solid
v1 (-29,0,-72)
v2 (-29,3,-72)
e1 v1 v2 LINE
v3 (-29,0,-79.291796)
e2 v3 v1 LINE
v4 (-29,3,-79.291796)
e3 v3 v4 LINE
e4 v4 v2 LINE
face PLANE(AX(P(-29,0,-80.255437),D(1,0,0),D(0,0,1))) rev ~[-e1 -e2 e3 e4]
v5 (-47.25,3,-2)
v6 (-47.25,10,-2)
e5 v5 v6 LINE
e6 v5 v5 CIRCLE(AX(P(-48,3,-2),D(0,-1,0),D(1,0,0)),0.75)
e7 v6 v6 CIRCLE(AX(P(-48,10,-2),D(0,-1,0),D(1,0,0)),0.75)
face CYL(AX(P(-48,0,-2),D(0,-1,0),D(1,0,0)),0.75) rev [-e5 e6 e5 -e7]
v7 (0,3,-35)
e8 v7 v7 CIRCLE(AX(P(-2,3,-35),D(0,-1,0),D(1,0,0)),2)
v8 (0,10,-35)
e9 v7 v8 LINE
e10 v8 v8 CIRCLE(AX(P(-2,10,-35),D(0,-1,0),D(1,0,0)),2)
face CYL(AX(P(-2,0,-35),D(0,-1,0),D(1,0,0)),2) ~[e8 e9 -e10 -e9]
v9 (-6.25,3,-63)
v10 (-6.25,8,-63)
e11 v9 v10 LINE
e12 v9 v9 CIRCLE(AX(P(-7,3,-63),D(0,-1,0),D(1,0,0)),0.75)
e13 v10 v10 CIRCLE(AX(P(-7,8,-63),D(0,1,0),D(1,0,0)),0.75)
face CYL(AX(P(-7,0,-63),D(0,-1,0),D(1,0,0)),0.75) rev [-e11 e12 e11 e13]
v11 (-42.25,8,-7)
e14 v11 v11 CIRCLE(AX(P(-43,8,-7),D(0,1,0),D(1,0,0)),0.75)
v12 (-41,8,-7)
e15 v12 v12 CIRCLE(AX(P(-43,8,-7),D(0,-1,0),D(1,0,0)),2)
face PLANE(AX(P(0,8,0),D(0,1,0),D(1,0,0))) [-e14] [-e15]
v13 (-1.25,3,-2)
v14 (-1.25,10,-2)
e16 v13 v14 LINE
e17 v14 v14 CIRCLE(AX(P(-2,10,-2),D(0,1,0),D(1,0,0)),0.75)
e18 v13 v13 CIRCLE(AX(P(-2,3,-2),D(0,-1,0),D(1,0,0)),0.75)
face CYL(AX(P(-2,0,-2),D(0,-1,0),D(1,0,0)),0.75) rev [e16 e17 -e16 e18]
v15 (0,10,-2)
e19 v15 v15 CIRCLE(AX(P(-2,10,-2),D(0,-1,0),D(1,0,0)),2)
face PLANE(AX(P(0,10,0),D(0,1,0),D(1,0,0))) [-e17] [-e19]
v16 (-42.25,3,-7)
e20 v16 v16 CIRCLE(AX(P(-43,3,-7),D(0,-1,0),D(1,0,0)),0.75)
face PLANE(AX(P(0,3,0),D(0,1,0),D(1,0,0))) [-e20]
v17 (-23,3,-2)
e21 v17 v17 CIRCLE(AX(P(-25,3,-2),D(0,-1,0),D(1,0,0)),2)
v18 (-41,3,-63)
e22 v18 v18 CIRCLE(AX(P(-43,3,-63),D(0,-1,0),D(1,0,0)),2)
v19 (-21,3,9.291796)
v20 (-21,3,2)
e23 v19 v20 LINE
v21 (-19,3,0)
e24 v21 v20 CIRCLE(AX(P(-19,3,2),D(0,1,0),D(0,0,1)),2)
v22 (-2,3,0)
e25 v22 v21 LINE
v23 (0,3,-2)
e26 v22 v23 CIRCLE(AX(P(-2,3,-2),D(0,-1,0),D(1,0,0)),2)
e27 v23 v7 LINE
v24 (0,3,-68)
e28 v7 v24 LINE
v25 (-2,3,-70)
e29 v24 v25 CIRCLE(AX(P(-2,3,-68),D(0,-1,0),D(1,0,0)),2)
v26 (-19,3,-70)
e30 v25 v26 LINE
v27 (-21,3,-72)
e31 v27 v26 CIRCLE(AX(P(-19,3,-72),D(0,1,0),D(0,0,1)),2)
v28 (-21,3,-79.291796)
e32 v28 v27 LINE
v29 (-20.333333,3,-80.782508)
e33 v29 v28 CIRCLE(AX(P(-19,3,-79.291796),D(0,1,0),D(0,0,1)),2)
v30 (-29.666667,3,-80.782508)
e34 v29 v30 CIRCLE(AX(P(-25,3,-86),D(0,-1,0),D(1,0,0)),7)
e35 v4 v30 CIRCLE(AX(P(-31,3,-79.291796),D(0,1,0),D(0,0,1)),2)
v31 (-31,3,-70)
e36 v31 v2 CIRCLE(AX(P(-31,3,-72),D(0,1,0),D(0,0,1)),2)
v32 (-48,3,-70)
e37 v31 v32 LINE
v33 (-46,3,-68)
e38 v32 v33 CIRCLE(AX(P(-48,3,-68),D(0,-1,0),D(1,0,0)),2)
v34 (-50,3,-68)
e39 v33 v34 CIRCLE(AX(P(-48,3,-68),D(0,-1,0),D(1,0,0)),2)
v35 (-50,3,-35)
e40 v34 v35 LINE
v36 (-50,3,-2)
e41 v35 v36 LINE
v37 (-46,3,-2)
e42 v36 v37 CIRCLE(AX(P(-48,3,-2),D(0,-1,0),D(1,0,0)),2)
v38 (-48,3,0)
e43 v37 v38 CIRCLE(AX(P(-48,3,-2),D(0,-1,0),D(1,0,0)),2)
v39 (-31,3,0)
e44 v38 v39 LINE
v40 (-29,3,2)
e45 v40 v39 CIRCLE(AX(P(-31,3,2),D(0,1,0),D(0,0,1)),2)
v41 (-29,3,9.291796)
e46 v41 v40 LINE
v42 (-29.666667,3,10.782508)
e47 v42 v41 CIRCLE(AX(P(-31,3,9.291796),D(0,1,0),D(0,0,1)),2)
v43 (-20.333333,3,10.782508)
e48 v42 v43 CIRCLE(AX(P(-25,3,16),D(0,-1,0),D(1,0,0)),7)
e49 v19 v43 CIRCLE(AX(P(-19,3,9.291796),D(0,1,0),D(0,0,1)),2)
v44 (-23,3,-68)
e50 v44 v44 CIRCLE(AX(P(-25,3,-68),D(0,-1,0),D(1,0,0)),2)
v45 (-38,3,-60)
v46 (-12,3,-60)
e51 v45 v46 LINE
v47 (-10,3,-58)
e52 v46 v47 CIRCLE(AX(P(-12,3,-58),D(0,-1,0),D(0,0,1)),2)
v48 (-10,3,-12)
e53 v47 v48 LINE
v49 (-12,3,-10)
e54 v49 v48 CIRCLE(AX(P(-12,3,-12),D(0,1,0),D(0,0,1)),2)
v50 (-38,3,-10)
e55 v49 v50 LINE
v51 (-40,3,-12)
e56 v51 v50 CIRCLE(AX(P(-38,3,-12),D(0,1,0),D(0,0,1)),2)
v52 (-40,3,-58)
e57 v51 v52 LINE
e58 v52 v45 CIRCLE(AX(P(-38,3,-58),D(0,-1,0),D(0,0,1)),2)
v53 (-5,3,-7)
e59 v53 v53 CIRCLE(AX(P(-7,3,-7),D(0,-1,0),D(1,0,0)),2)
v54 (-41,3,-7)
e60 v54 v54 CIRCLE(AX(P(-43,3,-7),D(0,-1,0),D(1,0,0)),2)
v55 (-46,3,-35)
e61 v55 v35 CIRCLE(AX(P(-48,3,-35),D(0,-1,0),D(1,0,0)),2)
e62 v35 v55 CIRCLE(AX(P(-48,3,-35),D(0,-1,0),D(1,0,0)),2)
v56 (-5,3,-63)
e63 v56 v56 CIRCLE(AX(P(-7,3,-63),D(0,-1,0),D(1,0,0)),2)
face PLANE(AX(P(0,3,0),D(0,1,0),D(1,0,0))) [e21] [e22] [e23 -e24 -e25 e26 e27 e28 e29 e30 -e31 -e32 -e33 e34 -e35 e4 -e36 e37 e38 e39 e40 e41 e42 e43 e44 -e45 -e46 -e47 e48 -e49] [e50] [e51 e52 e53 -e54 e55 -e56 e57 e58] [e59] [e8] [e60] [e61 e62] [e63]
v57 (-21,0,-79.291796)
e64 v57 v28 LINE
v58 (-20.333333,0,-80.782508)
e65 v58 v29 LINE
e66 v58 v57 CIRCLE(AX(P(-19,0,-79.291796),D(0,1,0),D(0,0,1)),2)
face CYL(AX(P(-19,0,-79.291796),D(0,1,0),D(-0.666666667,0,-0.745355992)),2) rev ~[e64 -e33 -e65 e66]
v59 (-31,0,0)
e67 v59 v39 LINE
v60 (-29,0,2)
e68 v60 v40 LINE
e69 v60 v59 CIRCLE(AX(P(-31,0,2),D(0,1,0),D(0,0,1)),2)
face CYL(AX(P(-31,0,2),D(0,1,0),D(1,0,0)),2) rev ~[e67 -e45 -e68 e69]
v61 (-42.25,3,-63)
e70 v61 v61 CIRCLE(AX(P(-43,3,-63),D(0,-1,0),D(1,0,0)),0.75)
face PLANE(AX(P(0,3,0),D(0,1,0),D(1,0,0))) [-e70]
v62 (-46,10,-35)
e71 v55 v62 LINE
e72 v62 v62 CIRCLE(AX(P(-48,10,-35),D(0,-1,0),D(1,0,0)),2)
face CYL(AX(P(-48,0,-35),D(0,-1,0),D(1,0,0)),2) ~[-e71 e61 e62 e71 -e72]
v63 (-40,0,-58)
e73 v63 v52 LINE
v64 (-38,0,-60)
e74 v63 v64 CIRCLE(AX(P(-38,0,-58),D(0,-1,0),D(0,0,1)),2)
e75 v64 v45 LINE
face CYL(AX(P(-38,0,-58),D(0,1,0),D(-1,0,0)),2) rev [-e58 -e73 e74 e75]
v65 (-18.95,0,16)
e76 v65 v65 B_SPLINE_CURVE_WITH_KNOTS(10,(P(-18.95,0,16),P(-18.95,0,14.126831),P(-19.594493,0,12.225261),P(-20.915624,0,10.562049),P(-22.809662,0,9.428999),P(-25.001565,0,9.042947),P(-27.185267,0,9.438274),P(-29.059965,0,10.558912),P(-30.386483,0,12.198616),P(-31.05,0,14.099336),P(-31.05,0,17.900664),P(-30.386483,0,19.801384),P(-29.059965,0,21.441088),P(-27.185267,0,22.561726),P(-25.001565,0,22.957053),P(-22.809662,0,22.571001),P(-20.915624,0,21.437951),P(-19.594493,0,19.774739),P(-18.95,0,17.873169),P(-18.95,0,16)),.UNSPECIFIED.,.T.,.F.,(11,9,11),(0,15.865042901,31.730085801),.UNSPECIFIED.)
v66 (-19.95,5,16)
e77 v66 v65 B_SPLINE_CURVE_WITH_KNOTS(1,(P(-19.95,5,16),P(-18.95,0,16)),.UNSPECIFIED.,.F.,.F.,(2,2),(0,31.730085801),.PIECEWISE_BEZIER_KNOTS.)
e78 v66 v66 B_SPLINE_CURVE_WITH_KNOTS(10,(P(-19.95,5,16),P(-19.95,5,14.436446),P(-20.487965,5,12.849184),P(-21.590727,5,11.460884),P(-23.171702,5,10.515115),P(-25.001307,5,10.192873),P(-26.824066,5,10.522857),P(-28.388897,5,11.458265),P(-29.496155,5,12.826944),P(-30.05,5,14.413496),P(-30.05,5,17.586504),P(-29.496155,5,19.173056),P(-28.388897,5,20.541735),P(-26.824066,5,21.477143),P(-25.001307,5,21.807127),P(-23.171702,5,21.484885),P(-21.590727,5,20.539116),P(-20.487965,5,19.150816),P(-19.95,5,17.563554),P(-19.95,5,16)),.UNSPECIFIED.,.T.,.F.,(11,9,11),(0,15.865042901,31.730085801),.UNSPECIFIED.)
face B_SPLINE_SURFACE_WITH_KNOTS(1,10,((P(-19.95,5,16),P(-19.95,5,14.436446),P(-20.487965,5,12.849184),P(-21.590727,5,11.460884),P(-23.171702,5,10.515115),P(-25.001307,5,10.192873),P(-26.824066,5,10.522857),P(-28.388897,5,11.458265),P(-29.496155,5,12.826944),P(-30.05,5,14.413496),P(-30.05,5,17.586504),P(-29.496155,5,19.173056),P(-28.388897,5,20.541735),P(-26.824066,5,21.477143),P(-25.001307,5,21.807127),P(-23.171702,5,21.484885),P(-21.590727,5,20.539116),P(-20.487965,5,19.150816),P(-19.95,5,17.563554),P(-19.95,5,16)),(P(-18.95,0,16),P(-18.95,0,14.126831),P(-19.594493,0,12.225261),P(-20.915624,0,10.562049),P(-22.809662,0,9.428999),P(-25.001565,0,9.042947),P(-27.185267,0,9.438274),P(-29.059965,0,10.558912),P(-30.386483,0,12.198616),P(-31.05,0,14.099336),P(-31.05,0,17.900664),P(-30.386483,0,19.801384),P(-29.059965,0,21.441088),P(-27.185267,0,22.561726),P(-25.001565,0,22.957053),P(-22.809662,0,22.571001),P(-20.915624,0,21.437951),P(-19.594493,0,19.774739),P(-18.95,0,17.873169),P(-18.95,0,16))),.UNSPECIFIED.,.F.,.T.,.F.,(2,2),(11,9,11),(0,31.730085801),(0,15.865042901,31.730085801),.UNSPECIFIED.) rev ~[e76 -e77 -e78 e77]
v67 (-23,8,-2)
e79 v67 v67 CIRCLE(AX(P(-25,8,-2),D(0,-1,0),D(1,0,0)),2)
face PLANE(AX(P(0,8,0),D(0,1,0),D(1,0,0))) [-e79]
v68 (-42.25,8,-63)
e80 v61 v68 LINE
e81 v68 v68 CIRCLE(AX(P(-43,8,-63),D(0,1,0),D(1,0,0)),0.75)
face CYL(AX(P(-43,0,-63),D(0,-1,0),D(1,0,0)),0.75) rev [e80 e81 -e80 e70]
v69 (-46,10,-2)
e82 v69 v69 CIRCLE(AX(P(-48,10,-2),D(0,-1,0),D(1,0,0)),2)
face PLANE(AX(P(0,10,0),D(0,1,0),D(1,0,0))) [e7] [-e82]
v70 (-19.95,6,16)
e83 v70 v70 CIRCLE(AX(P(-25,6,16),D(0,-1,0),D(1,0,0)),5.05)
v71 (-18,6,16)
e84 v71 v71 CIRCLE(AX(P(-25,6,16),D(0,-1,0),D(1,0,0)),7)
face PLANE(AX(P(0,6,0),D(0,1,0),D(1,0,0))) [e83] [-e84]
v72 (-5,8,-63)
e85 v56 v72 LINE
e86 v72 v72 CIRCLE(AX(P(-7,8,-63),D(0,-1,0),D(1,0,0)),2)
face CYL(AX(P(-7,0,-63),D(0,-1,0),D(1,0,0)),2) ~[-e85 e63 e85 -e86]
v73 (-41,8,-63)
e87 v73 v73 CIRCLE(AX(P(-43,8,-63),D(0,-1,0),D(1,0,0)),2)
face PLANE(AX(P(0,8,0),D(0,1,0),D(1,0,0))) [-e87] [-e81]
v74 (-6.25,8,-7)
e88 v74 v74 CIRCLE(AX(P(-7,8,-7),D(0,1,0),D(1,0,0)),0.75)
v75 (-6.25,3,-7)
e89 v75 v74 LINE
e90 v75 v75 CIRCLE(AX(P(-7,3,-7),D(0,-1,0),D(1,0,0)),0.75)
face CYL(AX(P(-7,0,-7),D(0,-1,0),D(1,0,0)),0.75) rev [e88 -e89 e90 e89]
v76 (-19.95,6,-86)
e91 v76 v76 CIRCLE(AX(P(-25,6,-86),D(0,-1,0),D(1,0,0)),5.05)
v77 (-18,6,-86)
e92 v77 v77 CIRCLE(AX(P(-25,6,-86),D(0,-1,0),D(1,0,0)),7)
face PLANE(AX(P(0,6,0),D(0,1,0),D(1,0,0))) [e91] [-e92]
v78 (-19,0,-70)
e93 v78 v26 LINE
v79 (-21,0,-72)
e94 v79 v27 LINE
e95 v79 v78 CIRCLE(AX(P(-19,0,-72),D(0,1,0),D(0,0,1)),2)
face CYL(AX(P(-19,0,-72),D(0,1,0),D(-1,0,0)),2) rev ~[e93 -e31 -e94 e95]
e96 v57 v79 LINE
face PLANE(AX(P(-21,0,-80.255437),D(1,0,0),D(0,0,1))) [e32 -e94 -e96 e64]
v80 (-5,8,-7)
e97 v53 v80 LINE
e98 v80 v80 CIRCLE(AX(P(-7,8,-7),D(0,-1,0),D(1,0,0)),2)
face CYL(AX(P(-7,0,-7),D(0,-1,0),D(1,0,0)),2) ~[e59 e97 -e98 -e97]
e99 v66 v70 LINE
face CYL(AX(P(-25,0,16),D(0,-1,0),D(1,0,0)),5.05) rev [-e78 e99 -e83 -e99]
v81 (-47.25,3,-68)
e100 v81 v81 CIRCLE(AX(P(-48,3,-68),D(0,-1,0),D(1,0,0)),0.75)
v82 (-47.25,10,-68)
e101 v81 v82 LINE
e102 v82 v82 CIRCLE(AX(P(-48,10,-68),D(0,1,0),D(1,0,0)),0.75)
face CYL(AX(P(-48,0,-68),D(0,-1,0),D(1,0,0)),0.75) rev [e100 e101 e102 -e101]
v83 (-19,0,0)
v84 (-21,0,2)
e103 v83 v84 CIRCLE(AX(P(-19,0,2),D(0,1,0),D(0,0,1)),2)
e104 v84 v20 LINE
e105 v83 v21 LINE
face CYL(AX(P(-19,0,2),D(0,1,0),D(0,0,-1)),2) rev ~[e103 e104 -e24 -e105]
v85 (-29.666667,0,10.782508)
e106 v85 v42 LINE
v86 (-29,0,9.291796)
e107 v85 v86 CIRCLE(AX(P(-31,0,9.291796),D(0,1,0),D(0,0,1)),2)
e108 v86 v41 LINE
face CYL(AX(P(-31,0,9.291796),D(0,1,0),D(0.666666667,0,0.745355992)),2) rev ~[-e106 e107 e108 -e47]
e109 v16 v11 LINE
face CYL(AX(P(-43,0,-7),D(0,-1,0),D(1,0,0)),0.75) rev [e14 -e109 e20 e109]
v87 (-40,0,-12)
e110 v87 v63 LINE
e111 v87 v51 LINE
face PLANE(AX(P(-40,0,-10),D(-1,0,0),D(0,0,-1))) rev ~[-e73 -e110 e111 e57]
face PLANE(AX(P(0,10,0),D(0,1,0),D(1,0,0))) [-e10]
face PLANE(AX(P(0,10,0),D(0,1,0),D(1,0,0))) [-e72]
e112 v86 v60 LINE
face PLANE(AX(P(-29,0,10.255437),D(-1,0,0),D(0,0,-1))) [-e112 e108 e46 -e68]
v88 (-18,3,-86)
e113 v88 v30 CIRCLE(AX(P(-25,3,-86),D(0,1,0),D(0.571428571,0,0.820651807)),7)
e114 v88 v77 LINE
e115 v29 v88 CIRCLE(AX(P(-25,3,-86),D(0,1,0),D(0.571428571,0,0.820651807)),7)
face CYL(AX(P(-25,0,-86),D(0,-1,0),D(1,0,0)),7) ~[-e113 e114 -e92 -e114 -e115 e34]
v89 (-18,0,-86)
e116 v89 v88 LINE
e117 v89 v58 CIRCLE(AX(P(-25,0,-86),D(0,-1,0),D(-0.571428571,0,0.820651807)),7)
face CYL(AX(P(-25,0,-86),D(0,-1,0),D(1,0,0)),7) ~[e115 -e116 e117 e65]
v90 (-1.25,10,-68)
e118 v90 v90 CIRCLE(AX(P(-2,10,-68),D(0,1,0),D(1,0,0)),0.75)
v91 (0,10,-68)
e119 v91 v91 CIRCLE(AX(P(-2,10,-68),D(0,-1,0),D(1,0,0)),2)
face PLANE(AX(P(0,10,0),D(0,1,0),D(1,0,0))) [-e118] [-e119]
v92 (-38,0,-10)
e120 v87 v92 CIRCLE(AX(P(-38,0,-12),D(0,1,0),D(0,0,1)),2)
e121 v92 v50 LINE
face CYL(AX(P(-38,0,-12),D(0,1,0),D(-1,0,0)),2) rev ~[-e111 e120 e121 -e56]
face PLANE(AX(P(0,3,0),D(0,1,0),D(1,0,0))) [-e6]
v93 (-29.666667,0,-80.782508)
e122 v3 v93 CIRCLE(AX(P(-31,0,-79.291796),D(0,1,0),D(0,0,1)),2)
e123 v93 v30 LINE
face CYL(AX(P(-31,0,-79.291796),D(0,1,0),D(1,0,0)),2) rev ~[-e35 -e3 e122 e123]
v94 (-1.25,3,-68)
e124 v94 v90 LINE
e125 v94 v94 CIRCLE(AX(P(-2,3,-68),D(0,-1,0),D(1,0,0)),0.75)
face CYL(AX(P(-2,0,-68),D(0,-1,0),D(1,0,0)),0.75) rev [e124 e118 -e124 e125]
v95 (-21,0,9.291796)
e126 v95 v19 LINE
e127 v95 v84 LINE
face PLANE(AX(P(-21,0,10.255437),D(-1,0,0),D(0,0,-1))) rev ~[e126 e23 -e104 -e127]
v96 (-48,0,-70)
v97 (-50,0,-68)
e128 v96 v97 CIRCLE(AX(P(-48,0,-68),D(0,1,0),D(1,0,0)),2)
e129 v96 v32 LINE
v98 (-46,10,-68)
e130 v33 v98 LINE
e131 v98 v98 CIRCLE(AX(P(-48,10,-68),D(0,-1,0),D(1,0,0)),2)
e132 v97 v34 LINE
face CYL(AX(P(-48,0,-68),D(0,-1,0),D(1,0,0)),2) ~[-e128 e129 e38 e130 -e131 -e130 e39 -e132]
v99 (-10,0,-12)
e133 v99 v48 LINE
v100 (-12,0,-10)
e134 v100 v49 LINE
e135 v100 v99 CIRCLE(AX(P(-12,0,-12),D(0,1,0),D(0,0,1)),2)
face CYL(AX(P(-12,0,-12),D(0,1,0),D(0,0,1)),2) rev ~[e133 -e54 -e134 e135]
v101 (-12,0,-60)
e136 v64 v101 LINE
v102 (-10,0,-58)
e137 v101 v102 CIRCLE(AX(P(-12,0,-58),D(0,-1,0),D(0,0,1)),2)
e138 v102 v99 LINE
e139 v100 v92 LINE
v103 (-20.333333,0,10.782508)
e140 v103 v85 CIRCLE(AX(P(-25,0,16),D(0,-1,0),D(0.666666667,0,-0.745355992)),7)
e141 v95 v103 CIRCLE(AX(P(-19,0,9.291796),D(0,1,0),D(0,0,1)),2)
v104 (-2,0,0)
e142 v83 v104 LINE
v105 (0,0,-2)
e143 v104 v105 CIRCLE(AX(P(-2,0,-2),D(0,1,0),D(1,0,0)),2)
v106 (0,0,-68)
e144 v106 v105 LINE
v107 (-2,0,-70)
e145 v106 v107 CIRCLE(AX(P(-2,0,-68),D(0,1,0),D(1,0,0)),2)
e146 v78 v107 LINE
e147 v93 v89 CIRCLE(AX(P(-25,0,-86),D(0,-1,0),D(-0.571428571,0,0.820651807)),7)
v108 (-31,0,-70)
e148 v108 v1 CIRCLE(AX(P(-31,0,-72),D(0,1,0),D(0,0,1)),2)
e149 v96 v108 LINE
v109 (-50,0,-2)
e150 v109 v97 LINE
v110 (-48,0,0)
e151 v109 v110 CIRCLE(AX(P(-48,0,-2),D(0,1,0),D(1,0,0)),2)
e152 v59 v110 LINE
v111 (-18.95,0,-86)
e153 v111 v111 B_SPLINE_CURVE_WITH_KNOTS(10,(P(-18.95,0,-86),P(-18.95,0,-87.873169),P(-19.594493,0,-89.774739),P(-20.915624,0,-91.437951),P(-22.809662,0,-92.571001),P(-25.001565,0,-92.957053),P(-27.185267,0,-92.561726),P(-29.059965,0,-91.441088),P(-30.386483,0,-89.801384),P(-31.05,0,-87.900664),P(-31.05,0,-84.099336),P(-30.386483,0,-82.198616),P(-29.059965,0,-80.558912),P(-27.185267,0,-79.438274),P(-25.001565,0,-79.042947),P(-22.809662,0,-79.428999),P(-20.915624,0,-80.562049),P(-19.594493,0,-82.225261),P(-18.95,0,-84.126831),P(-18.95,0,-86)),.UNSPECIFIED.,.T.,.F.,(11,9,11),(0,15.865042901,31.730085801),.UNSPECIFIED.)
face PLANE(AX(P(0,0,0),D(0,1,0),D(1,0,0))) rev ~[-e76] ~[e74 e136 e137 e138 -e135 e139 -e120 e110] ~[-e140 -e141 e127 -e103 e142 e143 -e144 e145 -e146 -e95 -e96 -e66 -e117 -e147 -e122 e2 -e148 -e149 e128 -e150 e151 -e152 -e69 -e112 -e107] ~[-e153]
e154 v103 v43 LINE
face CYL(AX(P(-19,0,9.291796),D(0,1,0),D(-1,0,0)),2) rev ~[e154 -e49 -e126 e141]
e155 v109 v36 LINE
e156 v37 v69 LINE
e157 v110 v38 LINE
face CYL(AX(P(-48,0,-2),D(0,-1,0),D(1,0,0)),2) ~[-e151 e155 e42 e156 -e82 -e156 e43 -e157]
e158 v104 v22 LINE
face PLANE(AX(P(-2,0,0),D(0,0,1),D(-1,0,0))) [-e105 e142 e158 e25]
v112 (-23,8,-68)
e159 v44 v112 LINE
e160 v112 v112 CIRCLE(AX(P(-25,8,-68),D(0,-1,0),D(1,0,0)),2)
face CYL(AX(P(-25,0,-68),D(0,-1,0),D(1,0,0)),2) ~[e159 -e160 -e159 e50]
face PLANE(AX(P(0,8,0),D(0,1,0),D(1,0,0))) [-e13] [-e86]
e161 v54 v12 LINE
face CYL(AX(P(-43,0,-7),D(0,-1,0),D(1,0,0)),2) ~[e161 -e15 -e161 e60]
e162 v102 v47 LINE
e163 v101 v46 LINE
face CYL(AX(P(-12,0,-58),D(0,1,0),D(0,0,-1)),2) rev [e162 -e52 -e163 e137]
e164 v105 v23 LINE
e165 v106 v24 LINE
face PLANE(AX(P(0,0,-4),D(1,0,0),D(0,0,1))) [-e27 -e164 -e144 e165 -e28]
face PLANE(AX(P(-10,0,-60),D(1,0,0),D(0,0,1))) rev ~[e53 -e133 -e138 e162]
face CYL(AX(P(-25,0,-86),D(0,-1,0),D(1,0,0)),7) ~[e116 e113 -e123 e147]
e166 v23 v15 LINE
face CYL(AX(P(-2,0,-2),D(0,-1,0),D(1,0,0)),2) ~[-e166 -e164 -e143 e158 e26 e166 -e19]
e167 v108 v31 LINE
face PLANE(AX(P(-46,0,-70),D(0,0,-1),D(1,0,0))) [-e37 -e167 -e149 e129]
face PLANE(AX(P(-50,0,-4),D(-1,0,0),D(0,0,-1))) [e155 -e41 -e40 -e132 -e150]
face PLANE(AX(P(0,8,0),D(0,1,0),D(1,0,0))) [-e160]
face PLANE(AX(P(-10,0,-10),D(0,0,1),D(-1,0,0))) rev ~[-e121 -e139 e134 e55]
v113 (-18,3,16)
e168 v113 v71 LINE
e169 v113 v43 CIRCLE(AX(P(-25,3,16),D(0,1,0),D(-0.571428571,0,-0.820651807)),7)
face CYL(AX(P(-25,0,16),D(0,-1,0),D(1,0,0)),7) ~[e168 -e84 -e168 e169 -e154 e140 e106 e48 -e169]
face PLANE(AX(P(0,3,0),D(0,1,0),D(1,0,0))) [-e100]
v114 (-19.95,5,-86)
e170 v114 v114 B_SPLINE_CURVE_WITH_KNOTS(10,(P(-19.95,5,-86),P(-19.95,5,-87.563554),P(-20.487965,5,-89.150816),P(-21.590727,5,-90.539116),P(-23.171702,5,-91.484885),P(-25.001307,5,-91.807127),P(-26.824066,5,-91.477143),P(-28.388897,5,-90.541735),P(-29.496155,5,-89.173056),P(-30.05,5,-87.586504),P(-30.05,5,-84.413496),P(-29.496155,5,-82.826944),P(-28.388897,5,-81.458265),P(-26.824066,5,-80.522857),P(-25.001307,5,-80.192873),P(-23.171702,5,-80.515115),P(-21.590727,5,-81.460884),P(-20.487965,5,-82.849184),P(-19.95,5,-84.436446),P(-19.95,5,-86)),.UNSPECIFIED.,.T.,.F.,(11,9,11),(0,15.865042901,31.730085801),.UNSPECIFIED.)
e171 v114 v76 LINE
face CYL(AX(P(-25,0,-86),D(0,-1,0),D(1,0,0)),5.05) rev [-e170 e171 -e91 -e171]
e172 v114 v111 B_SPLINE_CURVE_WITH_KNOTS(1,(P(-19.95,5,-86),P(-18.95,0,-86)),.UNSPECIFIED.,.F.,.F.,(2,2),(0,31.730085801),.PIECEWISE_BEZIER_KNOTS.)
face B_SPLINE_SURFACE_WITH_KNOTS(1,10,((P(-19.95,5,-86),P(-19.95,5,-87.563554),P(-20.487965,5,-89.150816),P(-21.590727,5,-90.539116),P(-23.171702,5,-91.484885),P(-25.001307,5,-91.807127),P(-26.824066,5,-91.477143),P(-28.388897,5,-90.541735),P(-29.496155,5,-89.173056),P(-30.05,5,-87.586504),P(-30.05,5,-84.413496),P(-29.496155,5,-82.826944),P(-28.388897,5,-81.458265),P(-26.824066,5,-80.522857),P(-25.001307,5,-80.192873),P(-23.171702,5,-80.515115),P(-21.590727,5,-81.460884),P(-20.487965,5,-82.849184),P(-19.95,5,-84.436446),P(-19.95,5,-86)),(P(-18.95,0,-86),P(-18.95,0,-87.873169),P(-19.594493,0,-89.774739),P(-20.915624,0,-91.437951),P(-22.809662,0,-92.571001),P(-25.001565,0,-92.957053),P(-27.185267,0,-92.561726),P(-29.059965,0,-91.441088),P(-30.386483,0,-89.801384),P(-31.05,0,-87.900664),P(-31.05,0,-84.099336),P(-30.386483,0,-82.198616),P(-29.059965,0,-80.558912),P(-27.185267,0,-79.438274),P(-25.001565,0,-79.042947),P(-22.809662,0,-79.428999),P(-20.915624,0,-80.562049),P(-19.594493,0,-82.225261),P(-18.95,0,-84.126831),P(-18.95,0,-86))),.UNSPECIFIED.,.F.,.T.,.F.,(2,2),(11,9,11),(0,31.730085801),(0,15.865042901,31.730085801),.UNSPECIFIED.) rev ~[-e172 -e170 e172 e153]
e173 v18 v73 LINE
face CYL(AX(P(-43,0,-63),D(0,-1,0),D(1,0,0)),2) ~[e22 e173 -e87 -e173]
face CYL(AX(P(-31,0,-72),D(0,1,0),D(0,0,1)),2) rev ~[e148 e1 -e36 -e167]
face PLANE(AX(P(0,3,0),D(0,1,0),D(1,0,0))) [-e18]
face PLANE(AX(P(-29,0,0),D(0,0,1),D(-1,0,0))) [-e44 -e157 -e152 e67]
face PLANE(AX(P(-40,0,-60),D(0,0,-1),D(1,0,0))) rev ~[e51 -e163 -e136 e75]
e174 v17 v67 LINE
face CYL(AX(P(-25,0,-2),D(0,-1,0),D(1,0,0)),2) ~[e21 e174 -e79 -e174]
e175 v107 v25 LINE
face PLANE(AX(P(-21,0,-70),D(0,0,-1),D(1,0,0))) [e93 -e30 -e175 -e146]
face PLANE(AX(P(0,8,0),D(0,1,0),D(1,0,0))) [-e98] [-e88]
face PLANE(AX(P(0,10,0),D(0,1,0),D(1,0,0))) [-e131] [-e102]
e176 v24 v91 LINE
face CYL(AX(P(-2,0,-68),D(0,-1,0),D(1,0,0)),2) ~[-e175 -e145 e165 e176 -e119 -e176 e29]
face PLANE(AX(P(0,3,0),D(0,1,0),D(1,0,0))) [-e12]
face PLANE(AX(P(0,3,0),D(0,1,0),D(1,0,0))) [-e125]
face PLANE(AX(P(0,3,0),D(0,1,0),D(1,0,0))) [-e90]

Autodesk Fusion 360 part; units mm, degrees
sketch "Sketch1" plane through (0, 0, 0) normal (0, 1, 0) x (1, 0, 0)
  line L0 (0, 0) -> (-50, 0)
  line L1 (-50, 0) -> (-50, 70)
  line L2 (-50, 70) -> (0, 70)
  line L3 (0, 70) -> (0, 0)
  line L4 (-50, 0) -> (-48, 0)
  line L5 (-48, 0) -> (-48, 2)
  line L6 (-48, 2) -> (-50, 2)
  line L7 (-50, 2) -> (-50, 0)
  circle A0 centre (-48, 2) radius 2
  circle A1 centre (-48, 68) radius 2
  circle A2 centre (-2, 68) radius 2
  circle A3 centre (-2, 2) radius 2
  circle A4 centre (-25, 2) radius 2
  circle A5 centre (-25, 68) radius 2
  circle A6 centre (-48, 35) radius 2
  circle A7 centre (-2, 35) radius 2
  line L8 (-23, 68) -> (-23, 70)
  line L9 (-27, 68) -> (-27, 70)
  line L10 (-48, 37) -> (-50, 37)
  line L11 (-48, 33) -> (-50, 33)
  line L12 (-2, 37) -> (0, 37)
  line L13 (-2, 33) -> (0, 33)
  line L14 (-27, 2) -> (-27, 0)
  line L15 (-23, 2) -> (-23, 0)
  line L16 (-4, 2) -> (-4, 0)
  line L17 (-2, 4) -> (0, 4)
  line L18 (-46, 2) -> (-46, 0)
  line L19 (-48, 4) -> (-50, 4)
  line L20 (-48, 66) -> (-50, 66)
  line L21 (-46, 68) -> (-46, 70)
  line L22 (-4, 68) -> (-4, 70)
  line L23 (-2, 66) -> (0, 66)
  line L24 (-23, 70) -> (-27, 70)
  line L25 (-27, 0) -> (-23, 0)
  line L26 (-29, 85) -> (-29, 70)
  line L27 (-21, 87.5) -> (-21, 70)
  line L28 (-29, -15) -> (-29, 0)
  line L29 (-21, -15) -> (-21, 0)
  line L30 (-50, 0) -> (-45, 0)
  line L31 (-45, 5) -> (-5, 5)
  line L32 (-5, 5) -> (-5, 65)
  line L33 (-5, 65) -> (-45, 65)
  line L34 (-45, 65) -> (-45, 5)
  circle A8 centre (-43, 7) radius 2
  circle A9 centre (-7, 7) radius 2
  circle A10 centre (-7, 63) radius 2
  circle A11 centre (-43, 63) radius 2
  circle A12 centre (-48, 68) radius 0.75
  circle A13 centre (-43, 63) radius 0.75
  circle A14 centre (-7, 63) radius 0.75
  circle A15 centre (-2, 68) radius 0.75
  circle A16 centre (-7, 7) radius 0.75
  circle A17 centre (-2, 2) radius 0.75
  circle A18 centre (-48, 2) radius 0.75
  circle A19 centre (-43, 7) radius 0.75
  circle A20 centre (-25, -16) radius 5.05
  circle A21 centre (-25, 86) radius 5.05
  line L35 (-40, 60) -> (-10, 60)
  line L36 (-10, 60) -> (-10, 10)
  line L37 (-10, 10) -> (-40, 10)
  line L38 (-40, 10) -> (-40, 60)
  circle A22 centre (-25, 86) radius 7
  circle A23 centre (-25, -16) radius 7
  dimension "d1" = 50
  dimension "d2" = 70
  dimension "d16" = 1.5
  dimension "d17" = 1.5
  dimension "d18" = 1.5
  dimension "d19" = 1.5
  dimension "d20" = 1.5
  dimension "d21" = 1.5
  dimension "d22" = 1.5
  dimension "d23" = 1.5
  dimension "d24" = 10.1
  dimension "d25" = 10.1
  dimension "d33" = 17.5
extrude "Extrude1" add sketch "Sketch1" along normal blind 3 contours L0 A3 L16 | L0 L1 L2 L3 A0 A1 A2 A3 A4 A5 A6 A7 L8 L9 L10 L11 L12 L13 L14 L15 L16 L17 L18 L19 L20 L21 L22 L23 L30 | L0 L25 L28 L29 A23 | A3 | L0 A4 L15 L25 | L28 L29 A20 A23 | L28 L29 A20 A23 | L3 A3 L17 | L0 A4 L14 L25 | A4 | L3 A7 L13 | L3 A7 L12 | A7 | L0 A0 L18 L30 | L5 L6 A0 A18 | L5 L6 A0 A18 | L3 A2 L23 | L5 L6 A18 | L5 L6 A18 | L1 A0 L19 | A2 | L2 A2 L22 | L1 A6 L11 | L1 A6 L10 | A6 | L2 L24 L26 L27 A22 | L2 A5 L8 L24 | L26 L27 A21 A22 | L26 L27 A21 A22 | L1 A1 L20 | L2 A5 L9 L24 | A5 | A1 | L2 A1 L21 | L31 L34 A8 | L31 L32 L33 L34 A8 A9 A10 A11 | A8 | L31 L32 A9 | A9 | L33 L34 A11 | A11 | L32 L33 A10 | A10 | A12 | A13 | A14 | A15 | A16 | A17 | A19
extrude "Extrude2" add sketch "Sketch1" along normal blind 10 contours A3 | A7 | L5 L6 A0 A18 | L5 L6 A0 A18 | A2 | A6 | A1
extrude "Extrude3" add sketch "Sketch1" along normal blind 8 contours A4 | A5 | A8 | A9 | A11 | A10
fillet "Fillet1" radius 2 12 edges at (-29, 1.5, -70) (-21, 1.5, -70) (-21, 1.5, 0) (-29, 1.5, 0) (-10, 1.5, -60) (-10, 1.5, -10) (-40, 1.5, -10) (-40, 1.5, -60) (-29, 1.5, 10.2554) (-21, 1.5, 10.2554) (-29, 1.5, -80.2554) (-21, 1.5, -80.2554)
extrude "Extrude4" add sketch "Sketch1" along normal blind 6 contours L28 L29 A20 A23 | L28 L29 A20 A23 | L26 L27 A21 A22 | L26 L27 A21 A22
chamfer "Chamfer1" distance 5 distance2 1 2 edges at (-29.7083, 0, -87.8262) (-29.7083, 0, 14.1738) measured on face at (-19.9751, 2, -86.5028) measured on face at (-19.9751, 2, 15.4972)
